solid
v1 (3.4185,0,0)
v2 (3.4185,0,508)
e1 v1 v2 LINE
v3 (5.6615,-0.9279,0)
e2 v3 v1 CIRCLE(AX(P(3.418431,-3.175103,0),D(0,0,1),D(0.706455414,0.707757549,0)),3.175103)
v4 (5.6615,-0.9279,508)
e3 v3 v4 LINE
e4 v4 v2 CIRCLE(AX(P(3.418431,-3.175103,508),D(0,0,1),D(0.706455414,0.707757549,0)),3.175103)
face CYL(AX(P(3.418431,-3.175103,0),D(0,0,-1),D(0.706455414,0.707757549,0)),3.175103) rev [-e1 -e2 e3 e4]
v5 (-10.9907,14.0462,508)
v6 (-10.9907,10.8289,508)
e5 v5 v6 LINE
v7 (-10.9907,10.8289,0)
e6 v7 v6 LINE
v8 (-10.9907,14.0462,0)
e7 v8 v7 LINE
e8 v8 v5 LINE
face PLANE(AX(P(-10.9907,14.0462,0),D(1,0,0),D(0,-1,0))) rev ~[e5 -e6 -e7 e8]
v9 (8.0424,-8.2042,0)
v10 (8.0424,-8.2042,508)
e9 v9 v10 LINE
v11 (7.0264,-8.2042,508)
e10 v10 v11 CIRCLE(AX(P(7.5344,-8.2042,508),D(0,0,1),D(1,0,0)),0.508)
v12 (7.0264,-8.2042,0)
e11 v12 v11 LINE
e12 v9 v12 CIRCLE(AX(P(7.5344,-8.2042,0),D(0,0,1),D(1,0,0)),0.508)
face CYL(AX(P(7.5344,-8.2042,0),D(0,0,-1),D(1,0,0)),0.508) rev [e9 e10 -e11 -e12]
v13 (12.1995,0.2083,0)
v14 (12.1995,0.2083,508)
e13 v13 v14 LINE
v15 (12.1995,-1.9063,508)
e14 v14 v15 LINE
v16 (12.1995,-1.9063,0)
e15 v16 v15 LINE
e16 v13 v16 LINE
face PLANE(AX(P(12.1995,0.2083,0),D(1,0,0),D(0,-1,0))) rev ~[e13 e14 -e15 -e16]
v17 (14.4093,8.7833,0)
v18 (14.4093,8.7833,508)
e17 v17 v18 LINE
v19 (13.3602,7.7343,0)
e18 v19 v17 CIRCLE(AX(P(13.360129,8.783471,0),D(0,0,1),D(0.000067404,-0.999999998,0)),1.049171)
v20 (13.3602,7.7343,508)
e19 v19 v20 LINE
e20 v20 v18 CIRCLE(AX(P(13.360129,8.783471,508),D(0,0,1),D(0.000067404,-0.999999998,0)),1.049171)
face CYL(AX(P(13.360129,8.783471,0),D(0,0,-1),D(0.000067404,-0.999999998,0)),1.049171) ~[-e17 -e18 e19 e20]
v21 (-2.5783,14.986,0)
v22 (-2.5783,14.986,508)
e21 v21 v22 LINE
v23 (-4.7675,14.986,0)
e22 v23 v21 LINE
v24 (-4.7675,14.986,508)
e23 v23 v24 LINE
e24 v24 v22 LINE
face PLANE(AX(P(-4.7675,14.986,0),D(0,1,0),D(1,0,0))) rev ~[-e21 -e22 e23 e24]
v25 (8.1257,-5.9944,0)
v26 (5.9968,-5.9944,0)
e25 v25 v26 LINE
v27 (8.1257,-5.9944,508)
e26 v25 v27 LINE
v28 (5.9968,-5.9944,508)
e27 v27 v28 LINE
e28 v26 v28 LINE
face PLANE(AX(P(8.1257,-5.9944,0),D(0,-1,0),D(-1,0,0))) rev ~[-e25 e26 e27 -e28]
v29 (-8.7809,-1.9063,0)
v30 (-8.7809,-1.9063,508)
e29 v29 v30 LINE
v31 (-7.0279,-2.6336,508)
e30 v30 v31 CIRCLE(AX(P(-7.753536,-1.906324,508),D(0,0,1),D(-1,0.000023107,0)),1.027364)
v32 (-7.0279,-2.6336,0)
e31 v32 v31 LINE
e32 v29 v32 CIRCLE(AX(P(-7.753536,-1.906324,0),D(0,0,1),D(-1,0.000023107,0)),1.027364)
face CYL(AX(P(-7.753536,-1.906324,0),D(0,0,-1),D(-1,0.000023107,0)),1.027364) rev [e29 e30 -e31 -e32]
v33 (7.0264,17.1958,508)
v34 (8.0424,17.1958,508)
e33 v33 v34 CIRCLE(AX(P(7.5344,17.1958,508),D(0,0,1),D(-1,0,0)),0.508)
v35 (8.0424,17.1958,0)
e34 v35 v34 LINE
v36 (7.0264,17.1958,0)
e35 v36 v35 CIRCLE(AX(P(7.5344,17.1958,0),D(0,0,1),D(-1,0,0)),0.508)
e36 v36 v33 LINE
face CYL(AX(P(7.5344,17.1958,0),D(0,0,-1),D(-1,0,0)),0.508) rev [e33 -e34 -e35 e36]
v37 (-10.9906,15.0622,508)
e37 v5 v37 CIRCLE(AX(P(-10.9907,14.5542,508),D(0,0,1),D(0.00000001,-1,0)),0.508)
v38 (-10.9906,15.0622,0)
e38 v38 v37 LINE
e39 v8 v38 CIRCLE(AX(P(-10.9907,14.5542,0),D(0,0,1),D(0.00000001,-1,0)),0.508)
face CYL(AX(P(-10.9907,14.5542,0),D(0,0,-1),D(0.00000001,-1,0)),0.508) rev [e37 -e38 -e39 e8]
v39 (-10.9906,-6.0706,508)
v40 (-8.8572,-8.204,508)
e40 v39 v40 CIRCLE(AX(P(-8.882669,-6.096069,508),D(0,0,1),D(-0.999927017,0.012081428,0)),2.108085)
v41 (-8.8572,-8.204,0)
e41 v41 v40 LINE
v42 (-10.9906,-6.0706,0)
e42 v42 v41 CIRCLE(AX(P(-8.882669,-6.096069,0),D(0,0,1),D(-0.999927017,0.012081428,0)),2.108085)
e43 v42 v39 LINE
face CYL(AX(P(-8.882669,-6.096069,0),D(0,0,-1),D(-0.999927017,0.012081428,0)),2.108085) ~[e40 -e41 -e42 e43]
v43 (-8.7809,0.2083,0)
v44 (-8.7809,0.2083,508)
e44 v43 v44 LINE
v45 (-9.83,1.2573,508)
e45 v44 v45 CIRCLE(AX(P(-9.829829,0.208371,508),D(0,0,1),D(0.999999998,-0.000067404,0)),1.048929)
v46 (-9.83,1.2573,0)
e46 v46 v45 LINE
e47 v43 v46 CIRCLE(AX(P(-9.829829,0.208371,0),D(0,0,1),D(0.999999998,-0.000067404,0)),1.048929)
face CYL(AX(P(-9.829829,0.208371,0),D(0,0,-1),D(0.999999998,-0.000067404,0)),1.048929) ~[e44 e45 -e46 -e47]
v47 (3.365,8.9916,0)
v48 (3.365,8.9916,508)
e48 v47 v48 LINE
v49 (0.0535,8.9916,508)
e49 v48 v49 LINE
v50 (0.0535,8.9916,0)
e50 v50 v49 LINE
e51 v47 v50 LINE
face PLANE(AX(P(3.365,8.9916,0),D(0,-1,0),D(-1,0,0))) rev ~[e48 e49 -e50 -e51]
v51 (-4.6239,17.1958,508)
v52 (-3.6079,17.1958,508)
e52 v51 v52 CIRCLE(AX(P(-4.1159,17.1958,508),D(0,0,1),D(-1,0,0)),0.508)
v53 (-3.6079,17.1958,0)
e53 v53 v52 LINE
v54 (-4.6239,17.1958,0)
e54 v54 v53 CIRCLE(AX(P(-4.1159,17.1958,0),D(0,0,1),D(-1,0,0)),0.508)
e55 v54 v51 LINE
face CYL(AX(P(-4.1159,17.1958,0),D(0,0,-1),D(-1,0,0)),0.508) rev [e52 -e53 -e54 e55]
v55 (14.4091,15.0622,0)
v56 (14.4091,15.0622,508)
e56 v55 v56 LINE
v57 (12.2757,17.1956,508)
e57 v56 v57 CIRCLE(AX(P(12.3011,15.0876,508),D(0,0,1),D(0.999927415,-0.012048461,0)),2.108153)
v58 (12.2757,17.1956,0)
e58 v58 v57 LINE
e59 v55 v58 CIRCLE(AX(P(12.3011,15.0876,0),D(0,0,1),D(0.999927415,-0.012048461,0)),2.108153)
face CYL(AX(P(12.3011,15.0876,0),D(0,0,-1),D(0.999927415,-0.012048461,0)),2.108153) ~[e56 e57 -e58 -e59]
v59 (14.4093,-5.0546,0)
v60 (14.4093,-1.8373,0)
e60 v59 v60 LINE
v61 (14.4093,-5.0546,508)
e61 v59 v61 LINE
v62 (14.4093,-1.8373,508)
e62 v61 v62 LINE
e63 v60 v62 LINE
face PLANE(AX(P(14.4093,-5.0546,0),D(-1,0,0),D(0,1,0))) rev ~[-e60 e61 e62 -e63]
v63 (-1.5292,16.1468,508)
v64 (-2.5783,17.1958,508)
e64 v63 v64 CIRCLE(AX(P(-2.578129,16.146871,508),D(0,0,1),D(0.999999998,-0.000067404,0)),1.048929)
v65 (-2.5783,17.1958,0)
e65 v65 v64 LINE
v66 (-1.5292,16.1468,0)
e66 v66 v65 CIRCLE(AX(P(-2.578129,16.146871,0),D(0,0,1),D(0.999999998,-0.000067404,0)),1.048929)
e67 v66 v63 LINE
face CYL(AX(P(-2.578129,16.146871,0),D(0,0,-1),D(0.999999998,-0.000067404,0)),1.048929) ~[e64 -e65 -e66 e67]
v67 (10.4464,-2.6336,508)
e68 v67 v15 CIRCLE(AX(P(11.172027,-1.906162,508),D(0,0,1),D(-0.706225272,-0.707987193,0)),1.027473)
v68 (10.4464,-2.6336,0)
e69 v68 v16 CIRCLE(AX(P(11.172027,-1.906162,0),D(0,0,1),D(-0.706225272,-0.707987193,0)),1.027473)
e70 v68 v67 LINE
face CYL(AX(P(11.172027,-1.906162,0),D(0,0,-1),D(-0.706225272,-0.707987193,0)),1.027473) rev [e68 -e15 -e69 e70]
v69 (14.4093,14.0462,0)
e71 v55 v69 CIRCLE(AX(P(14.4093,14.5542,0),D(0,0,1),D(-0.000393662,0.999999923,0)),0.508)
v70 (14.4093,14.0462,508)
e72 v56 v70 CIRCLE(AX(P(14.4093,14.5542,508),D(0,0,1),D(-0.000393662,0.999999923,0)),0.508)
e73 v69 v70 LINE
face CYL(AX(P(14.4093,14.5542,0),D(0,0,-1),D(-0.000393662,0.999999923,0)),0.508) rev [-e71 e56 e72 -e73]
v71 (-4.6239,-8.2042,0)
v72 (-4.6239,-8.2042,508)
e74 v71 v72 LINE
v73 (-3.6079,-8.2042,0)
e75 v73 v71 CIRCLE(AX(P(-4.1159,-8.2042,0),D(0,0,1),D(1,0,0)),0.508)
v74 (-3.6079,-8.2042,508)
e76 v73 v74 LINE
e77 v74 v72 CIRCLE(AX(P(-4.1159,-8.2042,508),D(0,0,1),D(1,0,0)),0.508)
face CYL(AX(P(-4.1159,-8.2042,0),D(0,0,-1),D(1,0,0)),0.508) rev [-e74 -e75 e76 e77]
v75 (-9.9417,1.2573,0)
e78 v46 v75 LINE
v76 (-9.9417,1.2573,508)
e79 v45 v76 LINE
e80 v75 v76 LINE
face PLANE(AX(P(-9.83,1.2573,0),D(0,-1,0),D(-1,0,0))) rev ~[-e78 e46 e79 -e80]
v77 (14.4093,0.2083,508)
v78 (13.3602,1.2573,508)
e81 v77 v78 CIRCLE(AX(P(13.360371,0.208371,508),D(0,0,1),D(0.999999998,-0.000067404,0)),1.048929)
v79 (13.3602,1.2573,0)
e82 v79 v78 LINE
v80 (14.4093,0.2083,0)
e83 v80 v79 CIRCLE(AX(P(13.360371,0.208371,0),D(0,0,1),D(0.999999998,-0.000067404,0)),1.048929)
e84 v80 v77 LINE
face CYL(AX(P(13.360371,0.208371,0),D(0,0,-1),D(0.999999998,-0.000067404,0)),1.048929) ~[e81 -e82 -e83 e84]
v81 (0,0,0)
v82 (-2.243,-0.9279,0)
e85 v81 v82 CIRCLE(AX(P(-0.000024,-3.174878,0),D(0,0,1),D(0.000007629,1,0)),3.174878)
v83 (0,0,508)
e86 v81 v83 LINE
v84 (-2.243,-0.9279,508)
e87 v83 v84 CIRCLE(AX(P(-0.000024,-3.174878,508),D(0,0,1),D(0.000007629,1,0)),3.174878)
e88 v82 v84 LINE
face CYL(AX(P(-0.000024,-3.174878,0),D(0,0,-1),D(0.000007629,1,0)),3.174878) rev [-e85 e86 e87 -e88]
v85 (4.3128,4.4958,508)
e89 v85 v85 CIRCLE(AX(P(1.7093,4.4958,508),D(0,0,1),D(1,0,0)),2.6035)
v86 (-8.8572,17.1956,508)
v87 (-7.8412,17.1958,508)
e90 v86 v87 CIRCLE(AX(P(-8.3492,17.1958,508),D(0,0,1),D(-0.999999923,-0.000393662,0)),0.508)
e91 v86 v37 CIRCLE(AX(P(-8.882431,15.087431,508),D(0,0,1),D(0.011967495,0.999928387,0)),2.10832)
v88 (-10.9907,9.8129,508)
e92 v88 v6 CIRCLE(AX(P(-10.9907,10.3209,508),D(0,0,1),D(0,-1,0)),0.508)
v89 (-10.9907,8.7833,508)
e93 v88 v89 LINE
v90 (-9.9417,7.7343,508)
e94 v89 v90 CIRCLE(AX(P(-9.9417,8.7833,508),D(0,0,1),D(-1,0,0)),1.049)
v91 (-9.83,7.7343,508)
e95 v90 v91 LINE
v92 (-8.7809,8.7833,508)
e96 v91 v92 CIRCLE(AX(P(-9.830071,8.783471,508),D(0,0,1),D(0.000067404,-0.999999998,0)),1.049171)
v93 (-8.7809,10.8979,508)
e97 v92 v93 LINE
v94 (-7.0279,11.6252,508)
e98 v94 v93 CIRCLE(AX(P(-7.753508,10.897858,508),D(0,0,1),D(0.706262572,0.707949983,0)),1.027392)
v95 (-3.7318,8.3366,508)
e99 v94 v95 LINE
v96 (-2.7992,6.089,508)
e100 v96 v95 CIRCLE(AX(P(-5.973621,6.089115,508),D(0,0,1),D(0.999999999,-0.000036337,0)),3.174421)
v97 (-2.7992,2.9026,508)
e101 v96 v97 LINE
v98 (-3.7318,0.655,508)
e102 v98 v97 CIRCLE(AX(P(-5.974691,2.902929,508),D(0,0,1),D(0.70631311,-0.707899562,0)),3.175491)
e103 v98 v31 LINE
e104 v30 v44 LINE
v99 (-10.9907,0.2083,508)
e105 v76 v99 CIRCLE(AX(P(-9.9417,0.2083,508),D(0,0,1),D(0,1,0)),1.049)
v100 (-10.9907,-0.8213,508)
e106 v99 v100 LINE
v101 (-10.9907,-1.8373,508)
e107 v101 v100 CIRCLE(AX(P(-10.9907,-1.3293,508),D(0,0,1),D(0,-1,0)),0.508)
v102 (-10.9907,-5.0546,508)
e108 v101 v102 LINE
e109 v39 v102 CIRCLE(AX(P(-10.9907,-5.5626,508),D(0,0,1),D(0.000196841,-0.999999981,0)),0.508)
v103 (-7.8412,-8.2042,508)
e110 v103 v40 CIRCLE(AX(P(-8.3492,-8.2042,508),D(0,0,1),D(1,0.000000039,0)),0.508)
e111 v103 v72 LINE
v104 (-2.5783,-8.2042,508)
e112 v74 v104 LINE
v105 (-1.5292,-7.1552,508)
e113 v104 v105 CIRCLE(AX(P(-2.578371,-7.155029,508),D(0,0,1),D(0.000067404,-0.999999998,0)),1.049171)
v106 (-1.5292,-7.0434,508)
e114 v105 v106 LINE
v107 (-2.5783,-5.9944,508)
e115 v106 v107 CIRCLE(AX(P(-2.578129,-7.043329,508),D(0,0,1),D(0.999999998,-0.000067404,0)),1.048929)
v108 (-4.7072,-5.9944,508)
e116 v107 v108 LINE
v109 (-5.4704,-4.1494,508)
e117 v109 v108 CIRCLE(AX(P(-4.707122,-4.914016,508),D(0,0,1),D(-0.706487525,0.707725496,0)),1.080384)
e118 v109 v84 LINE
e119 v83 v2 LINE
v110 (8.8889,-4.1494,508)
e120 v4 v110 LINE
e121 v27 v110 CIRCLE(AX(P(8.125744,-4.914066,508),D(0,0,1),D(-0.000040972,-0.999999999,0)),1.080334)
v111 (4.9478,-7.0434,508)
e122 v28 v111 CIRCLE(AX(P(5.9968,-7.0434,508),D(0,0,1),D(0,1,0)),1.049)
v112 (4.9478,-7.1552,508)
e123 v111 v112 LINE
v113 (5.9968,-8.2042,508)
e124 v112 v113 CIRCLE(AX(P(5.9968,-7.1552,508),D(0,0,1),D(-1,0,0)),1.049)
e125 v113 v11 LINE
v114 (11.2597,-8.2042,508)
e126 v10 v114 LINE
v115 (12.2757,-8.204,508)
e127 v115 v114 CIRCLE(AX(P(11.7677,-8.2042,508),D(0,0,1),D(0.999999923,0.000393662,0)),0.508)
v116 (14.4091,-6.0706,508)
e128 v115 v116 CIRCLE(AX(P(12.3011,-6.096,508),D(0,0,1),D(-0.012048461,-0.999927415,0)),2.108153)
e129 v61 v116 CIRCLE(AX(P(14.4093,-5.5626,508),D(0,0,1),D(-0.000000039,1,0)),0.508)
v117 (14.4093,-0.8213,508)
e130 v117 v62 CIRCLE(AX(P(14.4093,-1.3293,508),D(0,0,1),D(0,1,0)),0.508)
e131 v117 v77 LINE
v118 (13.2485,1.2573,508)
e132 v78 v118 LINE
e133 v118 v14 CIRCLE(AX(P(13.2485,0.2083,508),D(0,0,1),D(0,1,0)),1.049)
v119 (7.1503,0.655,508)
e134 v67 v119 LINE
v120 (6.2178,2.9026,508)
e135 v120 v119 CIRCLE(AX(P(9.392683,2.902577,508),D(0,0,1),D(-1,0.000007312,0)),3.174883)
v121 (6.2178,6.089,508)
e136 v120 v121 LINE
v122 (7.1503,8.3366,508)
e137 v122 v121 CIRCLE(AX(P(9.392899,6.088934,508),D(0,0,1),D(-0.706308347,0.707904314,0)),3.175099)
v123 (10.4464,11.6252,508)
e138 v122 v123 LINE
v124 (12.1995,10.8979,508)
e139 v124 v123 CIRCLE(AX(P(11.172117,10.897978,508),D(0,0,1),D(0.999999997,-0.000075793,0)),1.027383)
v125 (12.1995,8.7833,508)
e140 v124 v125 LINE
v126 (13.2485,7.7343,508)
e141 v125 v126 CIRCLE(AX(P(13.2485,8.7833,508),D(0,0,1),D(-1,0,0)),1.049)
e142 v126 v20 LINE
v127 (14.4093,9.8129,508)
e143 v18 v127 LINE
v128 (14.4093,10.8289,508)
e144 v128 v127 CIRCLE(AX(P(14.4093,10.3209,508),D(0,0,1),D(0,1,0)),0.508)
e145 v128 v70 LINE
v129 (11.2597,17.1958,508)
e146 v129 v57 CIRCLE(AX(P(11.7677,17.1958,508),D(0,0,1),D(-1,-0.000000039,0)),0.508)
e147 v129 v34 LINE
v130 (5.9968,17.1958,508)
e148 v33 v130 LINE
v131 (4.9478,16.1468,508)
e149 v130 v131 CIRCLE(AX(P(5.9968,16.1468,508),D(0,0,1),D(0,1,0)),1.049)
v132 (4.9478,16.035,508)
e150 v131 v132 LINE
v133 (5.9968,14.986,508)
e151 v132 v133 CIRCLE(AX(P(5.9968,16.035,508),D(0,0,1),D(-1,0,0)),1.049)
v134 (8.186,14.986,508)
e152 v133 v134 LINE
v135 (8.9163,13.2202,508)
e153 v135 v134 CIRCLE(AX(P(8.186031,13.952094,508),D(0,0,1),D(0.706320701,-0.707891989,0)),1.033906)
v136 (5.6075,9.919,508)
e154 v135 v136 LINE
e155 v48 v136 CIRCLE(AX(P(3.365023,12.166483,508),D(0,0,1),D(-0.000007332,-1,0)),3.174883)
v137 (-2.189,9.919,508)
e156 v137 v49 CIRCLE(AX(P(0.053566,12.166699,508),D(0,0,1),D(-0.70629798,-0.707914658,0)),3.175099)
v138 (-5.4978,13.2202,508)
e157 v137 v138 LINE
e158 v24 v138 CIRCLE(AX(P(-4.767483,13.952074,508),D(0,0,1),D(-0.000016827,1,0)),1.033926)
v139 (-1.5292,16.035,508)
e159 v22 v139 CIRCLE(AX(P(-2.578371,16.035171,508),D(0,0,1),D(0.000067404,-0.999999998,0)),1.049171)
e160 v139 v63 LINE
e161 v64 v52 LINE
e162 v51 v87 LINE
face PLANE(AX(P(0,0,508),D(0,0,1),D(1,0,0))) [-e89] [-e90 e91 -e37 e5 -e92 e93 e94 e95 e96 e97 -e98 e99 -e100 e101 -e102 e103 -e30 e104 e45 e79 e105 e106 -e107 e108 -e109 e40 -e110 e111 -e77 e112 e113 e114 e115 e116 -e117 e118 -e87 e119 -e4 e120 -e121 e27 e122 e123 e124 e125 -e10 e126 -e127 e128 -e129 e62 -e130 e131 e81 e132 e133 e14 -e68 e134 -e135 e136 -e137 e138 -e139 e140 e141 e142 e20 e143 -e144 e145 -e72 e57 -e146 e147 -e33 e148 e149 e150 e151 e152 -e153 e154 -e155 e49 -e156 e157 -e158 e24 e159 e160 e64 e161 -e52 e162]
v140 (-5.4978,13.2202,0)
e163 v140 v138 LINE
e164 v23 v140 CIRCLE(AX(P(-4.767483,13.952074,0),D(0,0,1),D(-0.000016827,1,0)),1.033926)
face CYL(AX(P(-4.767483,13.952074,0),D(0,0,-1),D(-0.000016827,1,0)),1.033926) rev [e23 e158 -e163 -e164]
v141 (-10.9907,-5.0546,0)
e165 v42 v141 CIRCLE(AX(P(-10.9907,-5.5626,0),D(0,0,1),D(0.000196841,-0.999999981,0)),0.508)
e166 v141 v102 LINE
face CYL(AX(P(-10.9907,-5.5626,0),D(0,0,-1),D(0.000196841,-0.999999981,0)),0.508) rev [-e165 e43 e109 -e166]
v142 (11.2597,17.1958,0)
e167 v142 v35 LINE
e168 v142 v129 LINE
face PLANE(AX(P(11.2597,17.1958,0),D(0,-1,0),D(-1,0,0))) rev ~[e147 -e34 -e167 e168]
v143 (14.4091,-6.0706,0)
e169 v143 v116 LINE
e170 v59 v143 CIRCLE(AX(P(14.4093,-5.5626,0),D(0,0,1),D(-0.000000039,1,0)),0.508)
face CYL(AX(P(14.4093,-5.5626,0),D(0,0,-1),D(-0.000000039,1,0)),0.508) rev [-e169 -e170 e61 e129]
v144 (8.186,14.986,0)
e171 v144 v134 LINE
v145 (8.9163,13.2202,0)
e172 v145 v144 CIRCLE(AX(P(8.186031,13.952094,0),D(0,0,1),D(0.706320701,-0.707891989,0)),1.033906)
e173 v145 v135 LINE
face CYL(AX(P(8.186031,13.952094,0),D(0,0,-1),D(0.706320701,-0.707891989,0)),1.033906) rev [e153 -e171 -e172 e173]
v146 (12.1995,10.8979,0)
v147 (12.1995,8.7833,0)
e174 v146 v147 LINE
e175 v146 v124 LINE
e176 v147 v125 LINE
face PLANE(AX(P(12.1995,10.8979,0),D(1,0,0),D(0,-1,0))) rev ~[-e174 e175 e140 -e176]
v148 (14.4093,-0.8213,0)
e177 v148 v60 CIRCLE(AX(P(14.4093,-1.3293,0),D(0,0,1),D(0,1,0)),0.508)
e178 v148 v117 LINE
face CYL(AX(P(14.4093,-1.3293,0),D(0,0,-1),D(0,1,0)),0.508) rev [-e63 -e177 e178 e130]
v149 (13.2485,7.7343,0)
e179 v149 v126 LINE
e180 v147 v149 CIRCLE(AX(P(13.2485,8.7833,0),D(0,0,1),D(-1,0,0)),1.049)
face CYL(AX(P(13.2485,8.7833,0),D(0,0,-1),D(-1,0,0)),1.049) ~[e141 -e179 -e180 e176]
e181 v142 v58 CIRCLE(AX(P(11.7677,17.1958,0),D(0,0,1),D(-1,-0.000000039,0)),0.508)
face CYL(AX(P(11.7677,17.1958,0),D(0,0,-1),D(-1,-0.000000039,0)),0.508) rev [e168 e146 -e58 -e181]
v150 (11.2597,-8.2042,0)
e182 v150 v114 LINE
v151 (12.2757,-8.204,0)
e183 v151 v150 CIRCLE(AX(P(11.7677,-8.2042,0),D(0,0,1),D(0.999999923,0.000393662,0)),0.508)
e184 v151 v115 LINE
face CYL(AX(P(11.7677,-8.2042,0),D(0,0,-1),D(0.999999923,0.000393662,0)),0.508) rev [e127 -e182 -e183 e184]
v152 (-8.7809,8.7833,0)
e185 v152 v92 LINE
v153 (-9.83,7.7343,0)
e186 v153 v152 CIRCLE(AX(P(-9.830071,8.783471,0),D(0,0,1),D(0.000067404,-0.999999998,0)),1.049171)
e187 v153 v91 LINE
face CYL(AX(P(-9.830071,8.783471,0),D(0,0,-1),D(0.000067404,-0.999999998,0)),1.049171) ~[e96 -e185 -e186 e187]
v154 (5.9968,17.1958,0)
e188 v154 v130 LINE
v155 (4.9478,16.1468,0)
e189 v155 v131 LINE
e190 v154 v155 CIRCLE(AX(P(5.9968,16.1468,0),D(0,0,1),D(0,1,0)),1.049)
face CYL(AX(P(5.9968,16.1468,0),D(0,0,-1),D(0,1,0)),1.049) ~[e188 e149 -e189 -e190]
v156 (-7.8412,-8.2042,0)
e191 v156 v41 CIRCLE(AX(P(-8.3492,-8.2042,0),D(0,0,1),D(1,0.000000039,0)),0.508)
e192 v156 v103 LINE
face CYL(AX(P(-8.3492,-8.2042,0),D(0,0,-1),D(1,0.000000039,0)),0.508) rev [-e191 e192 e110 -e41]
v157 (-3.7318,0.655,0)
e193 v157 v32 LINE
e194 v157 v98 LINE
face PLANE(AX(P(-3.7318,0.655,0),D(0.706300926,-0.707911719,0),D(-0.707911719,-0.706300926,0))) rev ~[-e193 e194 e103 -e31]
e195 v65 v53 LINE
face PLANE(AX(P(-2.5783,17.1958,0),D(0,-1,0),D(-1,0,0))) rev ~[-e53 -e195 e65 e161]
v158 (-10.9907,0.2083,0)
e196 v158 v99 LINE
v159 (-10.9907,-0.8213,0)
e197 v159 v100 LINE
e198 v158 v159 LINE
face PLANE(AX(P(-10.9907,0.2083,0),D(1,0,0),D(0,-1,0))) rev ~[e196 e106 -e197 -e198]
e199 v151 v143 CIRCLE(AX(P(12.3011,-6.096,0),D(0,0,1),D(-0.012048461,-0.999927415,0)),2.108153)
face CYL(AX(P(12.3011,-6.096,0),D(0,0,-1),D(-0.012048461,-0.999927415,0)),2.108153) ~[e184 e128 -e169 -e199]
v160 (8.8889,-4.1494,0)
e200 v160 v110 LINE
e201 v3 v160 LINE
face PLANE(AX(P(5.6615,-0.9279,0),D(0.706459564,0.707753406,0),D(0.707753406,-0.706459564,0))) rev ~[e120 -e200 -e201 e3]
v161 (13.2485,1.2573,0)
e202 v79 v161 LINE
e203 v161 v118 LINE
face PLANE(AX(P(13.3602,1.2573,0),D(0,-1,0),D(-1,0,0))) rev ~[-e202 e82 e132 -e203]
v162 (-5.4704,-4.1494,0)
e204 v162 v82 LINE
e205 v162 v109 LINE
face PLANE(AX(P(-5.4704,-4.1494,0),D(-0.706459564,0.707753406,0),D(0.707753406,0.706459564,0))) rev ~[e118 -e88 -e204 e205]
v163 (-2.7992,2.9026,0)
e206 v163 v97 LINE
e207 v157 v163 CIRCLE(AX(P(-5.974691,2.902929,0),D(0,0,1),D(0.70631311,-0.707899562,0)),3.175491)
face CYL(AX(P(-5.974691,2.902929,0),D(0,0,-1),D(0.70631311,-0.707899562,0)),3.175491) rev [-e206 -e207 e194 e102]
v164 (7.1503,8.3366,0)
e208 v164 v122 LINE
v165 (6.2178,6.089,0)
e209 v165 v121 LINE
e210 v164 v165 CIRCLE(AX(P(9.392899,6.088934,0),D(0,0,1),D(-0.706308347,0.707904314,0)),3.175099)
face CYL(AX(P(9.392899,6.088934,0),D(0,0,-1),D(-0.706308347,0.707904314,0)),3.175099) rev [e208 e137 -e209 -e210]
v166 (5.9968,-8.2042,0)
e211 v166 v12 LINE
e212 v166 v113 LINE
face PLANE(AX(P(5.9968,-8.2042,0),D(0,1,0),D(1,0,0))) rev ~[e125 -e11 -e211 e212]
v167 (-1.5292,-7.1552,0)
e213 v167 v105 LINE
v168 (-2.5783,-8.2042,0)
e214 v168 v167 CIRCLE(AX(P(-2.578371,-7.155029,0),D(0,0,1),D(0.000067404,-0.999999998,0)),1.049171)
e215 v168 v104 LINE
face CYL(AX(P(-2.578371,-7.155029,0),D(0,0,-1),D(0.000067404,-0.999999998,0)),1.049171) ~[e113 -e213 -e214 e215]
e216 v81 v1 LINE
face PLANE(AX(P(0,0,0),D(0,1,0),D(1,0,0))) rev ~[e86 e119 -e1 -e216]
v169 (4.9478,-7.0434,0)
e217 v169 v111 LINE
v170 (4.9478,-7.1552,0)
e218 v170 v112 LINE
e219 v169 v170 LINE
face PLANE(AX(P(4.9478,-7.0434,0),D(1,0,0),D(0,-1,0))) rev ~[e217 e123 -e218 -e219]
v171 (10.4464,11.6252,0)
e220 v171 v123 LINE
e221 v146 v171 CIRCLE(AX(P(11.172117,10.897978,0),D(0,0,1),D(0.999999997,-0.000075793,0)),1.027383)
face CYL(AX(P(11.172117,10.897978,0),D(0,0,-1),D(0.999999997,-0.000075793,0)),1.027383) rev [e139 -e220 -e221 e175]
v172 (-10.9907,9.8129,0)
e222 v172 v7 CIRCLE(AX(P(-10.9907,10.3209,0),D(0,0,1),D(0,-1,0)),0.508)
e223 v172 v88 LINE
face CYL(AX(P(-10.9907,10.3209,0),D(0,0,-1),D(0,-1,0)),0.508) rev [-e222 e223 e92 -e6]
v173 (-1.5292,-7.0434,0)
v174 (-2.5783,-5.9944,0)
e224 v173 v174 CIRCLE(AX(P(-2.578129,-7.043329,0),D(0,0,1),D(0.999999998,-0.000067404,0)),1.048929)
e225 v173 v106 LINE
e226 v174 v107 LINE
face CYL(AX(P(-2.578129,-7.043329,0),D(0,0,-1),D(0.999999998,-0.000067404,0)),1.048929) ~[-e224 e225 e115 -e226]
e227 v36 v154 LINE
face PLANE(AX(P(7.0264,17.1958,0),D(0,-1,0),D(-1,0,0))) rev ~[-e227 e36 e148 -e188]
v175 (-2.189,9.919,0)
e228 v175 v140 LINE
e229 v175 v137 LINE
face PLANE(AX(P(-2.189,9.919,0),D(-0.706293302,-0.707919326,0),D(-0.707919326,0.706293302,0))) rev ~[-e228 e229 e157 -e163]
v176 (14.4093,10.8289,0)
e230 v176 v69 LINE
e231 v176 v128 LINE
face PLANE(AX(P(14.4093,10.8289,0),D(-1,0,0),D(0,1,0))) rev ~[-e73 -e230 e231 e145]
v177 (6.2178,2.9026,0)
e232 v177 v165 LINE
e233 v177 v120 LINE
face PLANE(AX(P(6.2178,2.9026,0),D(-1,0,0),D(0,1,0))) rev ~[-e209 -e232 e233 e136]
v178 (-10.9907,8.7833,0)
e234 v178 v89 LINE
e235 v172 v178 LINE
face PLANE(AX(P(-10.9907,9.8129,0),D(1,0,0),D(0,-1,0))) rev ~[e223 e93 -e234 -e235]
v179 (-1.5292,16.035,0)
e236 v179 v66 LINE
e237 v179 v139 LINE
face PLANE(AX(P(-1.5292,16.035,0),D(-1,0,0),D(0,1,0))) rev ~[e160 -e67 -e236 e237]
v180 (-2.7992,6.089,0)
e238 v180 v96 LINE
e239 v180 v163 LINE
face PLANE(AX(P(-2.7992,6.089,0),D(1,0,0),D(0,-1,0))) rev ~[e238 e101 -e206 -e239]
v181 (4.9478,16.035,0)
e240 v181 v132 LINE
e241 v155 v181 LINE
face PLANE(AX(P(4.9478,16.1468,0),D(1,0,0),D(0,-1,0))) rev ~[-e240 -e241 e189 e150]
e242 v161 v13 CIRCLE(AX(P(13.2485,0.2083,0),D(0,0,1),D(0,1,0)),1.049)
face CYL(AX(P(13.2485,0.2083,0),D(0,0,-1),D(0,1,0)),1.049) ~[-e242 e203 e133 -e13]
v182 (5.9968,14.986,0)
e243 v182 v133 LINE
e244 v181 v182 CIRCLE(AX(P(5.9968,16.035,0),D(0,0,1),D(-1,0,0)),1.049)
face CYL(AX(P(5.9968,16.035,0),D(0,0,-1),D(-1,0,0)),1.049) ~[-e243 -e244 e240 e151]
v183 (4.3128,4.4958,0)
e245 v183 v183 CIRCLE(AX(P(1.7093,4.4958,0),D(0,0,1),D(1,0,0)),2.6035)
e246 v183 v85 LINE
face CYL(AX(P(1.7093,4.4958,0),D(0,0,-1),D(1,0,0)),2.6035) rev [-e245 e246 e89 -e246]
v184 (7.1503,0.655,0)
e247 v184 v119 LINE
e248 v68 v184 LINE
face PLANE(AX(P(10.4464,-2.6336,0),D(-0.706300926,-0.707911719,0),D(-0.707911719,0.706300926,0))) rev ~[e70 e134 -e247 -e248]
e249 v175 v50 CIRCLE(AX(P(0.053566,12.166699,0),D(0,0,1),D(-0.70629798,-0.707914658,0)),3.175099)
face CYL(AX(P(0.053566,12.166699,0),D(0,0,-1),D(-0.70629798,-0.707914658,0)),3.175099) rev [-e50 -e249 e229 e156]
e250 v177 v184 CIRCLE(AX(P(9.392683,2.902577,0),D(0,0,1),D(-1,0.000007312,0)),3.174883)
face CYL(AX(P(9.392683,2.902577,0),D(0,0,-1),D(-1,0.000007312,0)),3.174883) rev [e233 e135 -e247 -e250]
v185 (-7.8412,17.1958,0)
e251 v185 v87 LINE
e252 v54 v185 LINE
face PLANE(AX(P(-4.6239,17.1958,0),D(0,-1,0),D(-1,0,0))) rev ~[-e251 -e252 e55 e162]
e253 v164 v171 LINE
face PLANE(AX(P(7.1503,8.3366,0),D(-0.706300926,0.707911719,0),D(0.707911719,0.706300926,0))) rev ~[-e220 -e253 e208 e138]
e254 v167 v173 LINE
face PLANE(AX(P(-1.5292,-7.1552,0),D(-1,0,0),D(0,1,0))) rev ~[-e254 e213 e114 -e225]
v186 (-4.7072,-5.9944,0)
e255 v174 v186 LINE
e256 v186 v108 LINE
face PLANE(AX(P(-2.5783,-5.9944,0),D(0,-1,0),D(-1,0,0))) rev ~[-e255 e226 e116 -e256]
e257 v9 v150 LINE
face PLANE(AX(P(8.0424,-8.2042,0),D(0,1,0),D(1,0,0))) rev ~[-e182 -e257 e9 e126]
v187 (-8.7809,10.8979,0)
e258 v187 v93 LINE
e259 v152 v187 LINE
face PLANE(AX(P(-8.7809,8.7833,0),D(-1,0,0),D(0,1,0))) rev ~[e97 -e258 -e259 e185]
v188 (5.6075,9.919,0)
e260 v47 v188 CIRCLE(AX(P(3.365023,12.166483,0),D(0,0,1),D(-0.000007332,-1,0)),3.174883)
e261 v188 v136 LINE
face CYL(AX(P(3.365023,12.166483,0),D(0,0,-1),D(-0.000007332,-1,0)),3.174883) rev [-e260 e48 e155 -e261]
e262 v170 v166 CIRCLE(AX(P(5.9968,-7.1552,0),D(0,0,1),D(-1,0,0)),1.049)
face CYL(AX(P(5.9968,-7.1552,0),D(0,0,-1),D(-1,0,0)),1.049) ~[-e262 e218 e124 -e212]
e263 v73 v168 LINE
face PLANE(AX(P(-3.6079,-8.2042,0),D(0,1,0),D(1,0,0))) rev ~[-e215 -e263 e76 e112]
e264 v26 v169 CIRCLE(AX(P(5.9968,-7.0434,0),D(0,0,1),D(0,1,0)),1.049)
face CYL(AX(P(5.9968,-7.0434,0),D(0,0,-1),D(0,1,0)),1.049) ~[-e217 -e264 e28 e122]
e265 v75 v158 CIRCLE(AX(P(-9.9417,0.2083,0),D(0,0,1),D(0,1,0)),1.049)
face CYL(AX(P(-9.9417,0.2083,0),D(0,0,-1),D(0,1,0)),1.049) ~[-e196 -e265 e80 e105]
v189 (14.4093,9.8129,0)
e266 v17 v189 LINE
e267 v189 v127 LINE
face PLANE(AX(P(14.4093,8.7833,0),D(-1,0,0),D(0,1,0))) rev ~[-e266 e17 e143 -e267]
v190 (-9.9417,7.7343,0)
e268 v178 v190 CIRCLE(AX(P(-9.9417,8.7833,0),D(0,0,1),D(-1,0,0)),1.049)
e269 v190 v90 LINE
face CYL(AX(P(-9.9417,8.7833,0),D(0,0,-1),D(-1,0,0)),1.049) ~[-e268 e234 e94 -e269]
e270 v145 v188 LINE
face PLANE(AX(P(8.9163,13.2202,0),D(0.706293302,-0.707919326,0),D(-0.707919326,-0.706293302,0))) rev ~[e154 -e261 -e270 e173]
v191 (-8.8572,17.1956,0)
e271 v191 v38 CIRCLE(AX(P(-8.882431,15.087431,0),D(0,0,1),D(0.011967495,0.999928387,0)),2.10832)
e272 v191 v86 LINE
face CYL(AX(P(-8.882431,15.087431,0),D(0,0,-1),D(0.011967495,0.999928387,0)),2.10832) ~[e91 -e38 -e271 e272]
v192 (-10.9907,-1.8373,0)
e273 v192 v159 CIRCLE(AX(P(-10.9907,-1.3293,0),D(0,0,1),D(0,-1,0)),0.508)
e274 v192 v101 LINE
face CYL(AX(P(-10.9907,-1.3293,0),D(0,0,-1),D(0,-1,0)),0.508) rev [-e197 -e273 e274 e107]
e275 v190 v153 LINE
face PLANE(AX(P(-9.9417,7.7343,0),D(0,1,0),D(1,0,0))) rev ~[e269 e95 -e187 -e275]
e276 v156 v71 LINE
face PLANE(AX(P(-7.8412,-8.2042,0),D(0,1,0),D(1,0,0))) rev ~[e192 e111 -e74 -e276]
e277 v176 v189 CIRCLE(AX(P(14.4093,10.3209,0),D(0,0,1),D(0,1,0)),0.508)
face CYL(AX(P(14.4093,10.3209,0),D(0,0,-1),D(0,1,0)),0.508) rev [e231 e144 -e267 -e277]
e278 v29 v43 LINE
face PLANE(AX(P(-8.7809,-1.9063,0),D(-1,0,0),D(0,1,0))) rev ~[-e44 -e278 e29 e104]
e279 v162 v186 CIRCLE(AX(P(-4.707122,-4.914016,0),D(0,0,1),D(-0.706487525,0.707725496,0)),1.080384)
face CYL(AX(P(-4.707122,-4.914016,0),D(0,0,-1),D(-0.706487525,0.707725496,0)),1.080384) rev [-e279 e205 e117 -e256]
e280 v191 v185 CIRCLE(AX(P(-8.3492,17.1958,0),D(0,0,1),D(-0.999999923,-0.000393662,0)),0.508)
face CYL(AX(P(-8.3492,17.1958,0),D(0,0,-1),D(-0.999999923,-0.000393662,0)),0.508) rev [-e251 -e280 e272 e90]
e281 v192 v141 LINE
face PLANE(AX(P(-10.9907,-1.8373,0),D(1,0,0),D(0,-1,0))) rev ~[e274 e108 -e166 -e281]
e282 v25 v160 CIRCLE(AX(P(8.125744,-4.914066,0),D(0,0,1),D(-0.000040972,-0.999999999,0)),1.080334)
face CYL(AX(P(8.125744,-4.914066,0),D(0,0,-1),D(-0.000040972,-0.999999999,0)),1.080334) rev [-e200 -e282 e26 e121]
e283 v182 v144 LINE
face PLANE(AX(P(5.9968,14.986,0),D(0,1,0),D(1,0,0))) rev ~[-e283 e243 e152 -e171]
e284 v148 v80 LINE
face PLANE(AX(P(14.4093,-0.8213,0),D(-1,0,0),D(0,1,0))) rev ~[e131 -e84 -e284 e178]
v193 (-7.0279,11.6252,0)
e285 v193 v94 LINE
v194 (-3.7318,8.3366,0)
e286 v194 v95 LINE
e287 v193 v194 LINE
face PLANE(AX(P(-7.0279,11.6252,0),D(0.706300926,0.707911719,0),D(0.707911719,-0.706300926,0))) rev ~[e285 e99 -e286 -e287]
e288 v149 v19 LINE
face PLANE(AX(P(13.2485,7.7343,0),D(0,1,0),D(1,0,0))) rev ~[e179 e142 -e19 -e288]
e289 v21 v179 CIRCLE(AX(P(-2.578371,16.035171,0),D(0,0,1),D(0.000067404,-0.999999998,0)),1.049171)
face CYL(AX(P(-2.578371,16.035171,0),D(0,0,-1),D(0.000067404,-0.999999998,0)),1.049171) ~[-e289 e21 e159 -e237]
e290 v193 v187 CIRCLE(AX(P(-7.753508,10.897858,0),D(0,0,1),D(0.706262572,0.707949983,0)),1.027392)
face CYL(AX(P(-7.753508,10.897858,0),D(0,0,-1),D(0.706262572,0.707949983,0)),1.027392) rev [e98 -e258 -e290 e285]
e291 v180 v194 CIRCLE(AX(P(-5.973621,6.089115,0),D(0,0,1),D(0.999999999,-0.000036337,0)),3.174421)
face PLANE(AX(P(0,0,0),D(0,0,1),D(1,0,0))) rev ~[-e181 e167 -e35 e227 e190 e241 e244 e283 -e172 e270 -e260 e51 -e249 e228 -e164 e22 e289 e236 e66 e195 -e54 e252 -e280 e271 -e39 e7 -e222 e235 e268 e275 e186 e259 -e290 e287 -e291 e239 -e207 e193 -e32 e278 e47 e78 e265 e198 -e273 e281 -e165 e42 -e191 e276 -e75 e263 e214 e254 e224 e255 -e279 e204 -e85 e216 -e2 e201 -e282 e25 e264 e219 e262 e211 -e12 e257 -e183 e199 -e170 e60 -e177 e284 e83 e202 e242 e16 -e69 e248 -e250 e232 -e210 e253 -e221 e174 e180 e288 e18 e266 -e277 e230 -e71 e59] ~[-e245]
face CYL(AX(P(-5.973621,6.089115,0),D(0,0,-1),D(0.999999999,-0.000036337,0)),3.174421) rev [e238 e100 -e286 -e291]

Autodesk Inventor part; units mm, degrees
ref_plane "YZ Plane" through (0, 0, 0) normal (1, 0, 0) x (0, 1, 0)
ref_plane "XZ Plane" through (0, 0, 0) normal (0, 1, 0) x (-1, 0, 0)
ref_plane "XY Plane" through (0, 0, 0) normal (0, 0, 1) x (1, 0, 0)
sketch "Sketch1" plane through (0, 0, 0) normal (0, 0, 1) x (1, 0, 0)
  arc A0 (-5.4704, -4.1494) -> (-4.7072, -5.9944) centre (-4.7072, -4.914) ccw
  line L0 (-5.4704, -4.1494) -> (-2.243, -0.9279)
  arc A1 (0, 0) -> (-2.243, -0.9279) centre (0, -3.175) ccw
  line L1 (0, 0) -> (3.4185, 0)
  arc A2 (5.6615, -0.9279) -> (3.4185, 0) centre (3.4185, -3.175) ccw
  line L2 (5.6615, -0.9279) -> (8.8889, -4.1494)
  arc A3 (8.1257, -5.9944) -> (8.8889, -4.1494) centre (8.1257, -4.914) ccw
  line L3 (8.1257, -5.9944) -> (5.9968, -5.9944)
  arc A4 (5.9968, -5.9944) -> (4.9478, -7.0434) centre (5.9968, -7.0434) ccw
  line L4 (4.9478, -7.0434) -> (4.9478, -7.1552)
  arc A5 (4.9478, -7.1552) -> (5.9968, -8.2042) centre (5.9968, -7.1552) ccw
  line L5 (5.9968, -8.2042) -> (7.0264, -8.2042)
  arc A6 (8.0424, -8.2042) -> (7.0264, -8.2042) centre (7.5344, -8.2042) ccw
  line L6 (8.0424, -8.2042) -> (11.2597, -8.2042)
  arc A7 (12.2757, -8.204) -> (11.2597, -8.2042) centre (11.7677, -8.2042) ccw
  arc A8 (12.2757, -8.204) -> (14.4091, -6.0706) centre (12.3011, -6.096) ccw
  arc A9 (14.4093, -5.0546) -> (14.4091, -6.0706) centre (14.4093, -5.5626) ccw
  line L7 (14.4093, -5.0546) -> (14.4093, -1.8373)
  arc A10 (14.4093, -0.8213) -> (14.4093, -1.8373) centre (14.4093, -1.3293) ccw
  line L8 (14.4093, -0.8213) -> (14.4093, 0.2083)
  arc A11 (14.4093, 0.2083) -> (13.3602, 1.2573) centre (13.3602, 0.2083) ccw
  line L9 (13.3602, 1.2573) -> (13.2485, 1.2573)
  arc A12 (13.2485, 1.2573) -> (12.1995, 0.2083) centre (13.2485, 0.2083) ccw
  line L10 (12.1995, 0.2083) -> (12.1995, -1.9063)
  arc A13 (10.4464, -2.6336) -> (12.1995, -1.9063) centre (11.172, -1.9063) ccw
  line L11 (10.4464, -2.6336) -> (7.1503, 0.655)
  arc A14 (6.2178, 2.9026) -> (7.1503, 0.655) centre (9.3928, 2.9026) ccw
  line L12 (6.2178, 2.9026) -> (6.2178, 6.089)
  arc A15 (7.1503, 8.3366) -> (6.2178, 6.089) centre (9.3928, 6.089) ccw
  line L13 (7.1503, 8.3366) -> (10.4464, 11.6252)
  arc A16 (12.1995, 10.8979) -> (10.4464, 11.6252) centre (11.172, 10.8979) ccw
  line L14 (12.1995, 10.8979) -> (12.1995, 8.7833)
  arc A17 (12.1995, 8.7833) -> (13.2485, 7.7343) centre (13.2485, 8.7833) ccw
  line L15 (13.2485, 7.7343) -> (13.3602, 7.7343)
  arc A18 (13.3602, 7.7343) -> (14.4093, 8.7833) centre (13.3602, 8.7833) ccw
  line L16 (14.4093, 8.7833) -> (14.4093, 9.8129)
  arc A19 (14.4093, 10.8289) -> (14.4093, 9.8129) centre (14.4093, 10.3209) ccw
  line L17 (14.4093, 10.8289) -> (14.4093, 14.0462)
  arc A20 (14.4091, 15.0622) -> (14.4093, 14.0462) centre (14.4093, 14.5542) ccw
  arc A21 (14.4091, 15.0622) -> (12.2757, 17.1956) centre (12.3011, 15.0876) ccw
  arc A22 (11.2597, 17.1958) -> (12.2757, 17.1956) centre (11.7677, 17.1958) ccw
  line L18 (11.2597, 17.1958) -> (8.0424, 17.1958)
  arc A23 (7.0264, 17.1958) -> (8.0424, 17.1958) centre (7.5344, 17.1958) ccw
  line L19 (7.0264, 17.1958) -> (5.9968, 17.1958)
  arc A24 (5.9968, 17.1958) -> (4.9478, 16.1468) centre (5.9968, 16.1468) ccw
  line L20 (4.9478, 16.1468) -> (4.9478, 16.035)
  arc A25 (4.9478, 16.035) -> (5.9968, 14.986) centre (5.9968, 16.035) ccw
  line L21 (5.9968, 14.986) -> (8.186, 14.986)
  arc A26 (8.9163, 13.2202) -> (8.186, 14.986) centre (8.186, 13.9521) ccw
  line L22 (8.9163, 13.2202) -> (5.6075, 9.919)
  arc A27 (3.365, 8.9916) -> (5.6075, 9.919) centre (3.365, 12.1666) ccw
  line L23 (3.365, 8.9916) -> (0.0535, 8.9916)
  arc A28 (-2.189, 9.919) -> (0.0535, 8.9916) centre (0.0535, 12.1666) ccw
  line L24 (-2.189, 9.919) -> (-5.4978, 13.2202)
  arc A29 (-4.7675, 14.986) -> (-5.4978, 13.2202) centre (-4.7675, 13.9521) ccw
  line L25 (-4.7675, 14.986) -> (-2.5783, 14.986)
  arc A30 (-2.5783, 14.986) -> (-1.5292, 16.035) centre (-2.5783, 16.035) ccw
  line L26 (-1.5292, 16.035) -> (-1.5292, 16.1468)
  arc A31 (-1.5292, 16.1468) -> (-2.5783, 17.1958) centre (-2.5783, 16.1468) ccw
  line L27 (-2.5783, 17.1958) -> (-3.6079, 17.1958)
  arc A32 (-4.6239, 17.1958) -> (-3.6079, 17.1958) centre (-4.1159, 17.1958) ccw
  line L28 (-4.6239, 17.1958) -> (-7.8412, 17.1958)
  arc A33 (-8.8572, 17.1956) -> (-7.8412, 17.1958) centre (-8.3492, 17.1958) ccw
  arc A34 (-8.8572, 17.1956) -> (-10.9906, 15.0622) centre (-8.8825, 15.0876) ccw
  arc A35 (-10.9907, 14.0462) -> (-10.9906, 15.0622) centre (-10.9907, 14.5542) ccw
  line L29 (-10.9907, 14.0462) -> (-10.9907, 10.8289)
  arc A36 (-10.9907, 9.8129) -> (-10.9907, 10.8289) centre (-10.9907, 10.3209) ccw
  line L30 (-10.9907, 9.8129) -> (-10.9907, 8.7833)
  arc A37 (-10.9907, 8.7833) -> (-9.9417, 7.7343) centre (-9.9417, 8.7833) ccw
  line L31 (-9.9417, 7.7343) -> (-9.83, 7.7343)
  arc A38 (-9.83, 7.7343) -> (-8.7809, 8.7833) centre (-9.83, 8.7833) ccw
  line L32 (-8.7809, 8.7833) -> (-8.7809, 10.8979)
  arc A39 (-7.0279, 11.6252) -> (-8.7809, 10.8979) centre (-7.7535, 10.8979) ccw
  line L33 (-7.0279, 11.6252) -> (-3.7318, 8.3366)
  arc A40 (-2.7992, 6.089) -> (-3.7318, 8.3366) centre (-5.9742, 6.089) ccw
  line L34 (-2.7992, 6.089) -> (-2.7992, 2.9026)
  arc A41 (-3.7318, 0.655) -> (-2.7992, 2.9026) centre (-5.9742, 2.9026) ccw
  line L35 (-3.7318, 0.655) -> (-7.0279, -2.6336)
  arc A42 (-8.7809, -1.9063) -> (-7.0279, -2.6336) centre (-7.7535, -1.9063) ccw
  line L36 (-8.7809, -1.9063) -> (-8.7809, 0.2083)
  arc A43 (-8.7809, 0.2083) -> (-9.83, 1.2573) centre (-9.83, 0.2083) ccw
  line L37 (-9.83, 1.2573) -> (-9.9417, 1.2573)
  arc A44 (-9.9417, 1.2573) -> (-10.9907, 0.2083) centre (-9.9417, 0.2083) ccw
  line L38 (-10.9907, 0.2083) -> (-10.9907, -0.8213)
  arc A45 (-10.9907, -1.8373) -> (-10.9907, -0.8213) centre (-10.9907, -1.3293) ccw
  line L39 (-10.9907, -1.8373) -> (-10.9907, -5.0546)
  arc A46 (-10.9906, -6.0706) -> (-10.9907, -5.0546) centre (-10.9907, -5.5626) ccw
  arc A47 (-10.9906, -6.0706) -> (-8.8572, -8.204) centre (-8.8825, -6.096) ccw
  arc A48 (-7.8412, -8.2042) -> (-8.8572, -8.204) centre (-8.3492, -8.2042) ccw
  line L40 (-7.8412, -8.2042) -> (-4.6239, -8.2042)
  arc A49 (-3.6079, -8.2042) -> (-4.6239, -8.2042) centre (-4.1159, -8.2042) ccw
  line L41 (-3.6079, -8.2042) -> (-2.5783, -8.2042)
  arc A50 (-2.5783, -8.2042) -> (-1.5292, -7.1552) centre (-2.5783, -7.1552) ccw
  line L42 (-1.5292, -7.1552) -> (-1.5292, -7.0434)
  arc A51 (-1.5292, -7.0434) -> (-2.5783, -5.9944) centre (-2.5783, -7.0434) ccw
  line L43 (-2.5783, -5.9944) -> (-4.7072, -5.9944)
  circle A52 centre (1.7093, 4.4958) radius 2.6035
extrude "Extrusion1" add sketch "Sketch1" along normal blind 508
properties part number "20in 1x1 T slot" material "Steel, Alloy"
